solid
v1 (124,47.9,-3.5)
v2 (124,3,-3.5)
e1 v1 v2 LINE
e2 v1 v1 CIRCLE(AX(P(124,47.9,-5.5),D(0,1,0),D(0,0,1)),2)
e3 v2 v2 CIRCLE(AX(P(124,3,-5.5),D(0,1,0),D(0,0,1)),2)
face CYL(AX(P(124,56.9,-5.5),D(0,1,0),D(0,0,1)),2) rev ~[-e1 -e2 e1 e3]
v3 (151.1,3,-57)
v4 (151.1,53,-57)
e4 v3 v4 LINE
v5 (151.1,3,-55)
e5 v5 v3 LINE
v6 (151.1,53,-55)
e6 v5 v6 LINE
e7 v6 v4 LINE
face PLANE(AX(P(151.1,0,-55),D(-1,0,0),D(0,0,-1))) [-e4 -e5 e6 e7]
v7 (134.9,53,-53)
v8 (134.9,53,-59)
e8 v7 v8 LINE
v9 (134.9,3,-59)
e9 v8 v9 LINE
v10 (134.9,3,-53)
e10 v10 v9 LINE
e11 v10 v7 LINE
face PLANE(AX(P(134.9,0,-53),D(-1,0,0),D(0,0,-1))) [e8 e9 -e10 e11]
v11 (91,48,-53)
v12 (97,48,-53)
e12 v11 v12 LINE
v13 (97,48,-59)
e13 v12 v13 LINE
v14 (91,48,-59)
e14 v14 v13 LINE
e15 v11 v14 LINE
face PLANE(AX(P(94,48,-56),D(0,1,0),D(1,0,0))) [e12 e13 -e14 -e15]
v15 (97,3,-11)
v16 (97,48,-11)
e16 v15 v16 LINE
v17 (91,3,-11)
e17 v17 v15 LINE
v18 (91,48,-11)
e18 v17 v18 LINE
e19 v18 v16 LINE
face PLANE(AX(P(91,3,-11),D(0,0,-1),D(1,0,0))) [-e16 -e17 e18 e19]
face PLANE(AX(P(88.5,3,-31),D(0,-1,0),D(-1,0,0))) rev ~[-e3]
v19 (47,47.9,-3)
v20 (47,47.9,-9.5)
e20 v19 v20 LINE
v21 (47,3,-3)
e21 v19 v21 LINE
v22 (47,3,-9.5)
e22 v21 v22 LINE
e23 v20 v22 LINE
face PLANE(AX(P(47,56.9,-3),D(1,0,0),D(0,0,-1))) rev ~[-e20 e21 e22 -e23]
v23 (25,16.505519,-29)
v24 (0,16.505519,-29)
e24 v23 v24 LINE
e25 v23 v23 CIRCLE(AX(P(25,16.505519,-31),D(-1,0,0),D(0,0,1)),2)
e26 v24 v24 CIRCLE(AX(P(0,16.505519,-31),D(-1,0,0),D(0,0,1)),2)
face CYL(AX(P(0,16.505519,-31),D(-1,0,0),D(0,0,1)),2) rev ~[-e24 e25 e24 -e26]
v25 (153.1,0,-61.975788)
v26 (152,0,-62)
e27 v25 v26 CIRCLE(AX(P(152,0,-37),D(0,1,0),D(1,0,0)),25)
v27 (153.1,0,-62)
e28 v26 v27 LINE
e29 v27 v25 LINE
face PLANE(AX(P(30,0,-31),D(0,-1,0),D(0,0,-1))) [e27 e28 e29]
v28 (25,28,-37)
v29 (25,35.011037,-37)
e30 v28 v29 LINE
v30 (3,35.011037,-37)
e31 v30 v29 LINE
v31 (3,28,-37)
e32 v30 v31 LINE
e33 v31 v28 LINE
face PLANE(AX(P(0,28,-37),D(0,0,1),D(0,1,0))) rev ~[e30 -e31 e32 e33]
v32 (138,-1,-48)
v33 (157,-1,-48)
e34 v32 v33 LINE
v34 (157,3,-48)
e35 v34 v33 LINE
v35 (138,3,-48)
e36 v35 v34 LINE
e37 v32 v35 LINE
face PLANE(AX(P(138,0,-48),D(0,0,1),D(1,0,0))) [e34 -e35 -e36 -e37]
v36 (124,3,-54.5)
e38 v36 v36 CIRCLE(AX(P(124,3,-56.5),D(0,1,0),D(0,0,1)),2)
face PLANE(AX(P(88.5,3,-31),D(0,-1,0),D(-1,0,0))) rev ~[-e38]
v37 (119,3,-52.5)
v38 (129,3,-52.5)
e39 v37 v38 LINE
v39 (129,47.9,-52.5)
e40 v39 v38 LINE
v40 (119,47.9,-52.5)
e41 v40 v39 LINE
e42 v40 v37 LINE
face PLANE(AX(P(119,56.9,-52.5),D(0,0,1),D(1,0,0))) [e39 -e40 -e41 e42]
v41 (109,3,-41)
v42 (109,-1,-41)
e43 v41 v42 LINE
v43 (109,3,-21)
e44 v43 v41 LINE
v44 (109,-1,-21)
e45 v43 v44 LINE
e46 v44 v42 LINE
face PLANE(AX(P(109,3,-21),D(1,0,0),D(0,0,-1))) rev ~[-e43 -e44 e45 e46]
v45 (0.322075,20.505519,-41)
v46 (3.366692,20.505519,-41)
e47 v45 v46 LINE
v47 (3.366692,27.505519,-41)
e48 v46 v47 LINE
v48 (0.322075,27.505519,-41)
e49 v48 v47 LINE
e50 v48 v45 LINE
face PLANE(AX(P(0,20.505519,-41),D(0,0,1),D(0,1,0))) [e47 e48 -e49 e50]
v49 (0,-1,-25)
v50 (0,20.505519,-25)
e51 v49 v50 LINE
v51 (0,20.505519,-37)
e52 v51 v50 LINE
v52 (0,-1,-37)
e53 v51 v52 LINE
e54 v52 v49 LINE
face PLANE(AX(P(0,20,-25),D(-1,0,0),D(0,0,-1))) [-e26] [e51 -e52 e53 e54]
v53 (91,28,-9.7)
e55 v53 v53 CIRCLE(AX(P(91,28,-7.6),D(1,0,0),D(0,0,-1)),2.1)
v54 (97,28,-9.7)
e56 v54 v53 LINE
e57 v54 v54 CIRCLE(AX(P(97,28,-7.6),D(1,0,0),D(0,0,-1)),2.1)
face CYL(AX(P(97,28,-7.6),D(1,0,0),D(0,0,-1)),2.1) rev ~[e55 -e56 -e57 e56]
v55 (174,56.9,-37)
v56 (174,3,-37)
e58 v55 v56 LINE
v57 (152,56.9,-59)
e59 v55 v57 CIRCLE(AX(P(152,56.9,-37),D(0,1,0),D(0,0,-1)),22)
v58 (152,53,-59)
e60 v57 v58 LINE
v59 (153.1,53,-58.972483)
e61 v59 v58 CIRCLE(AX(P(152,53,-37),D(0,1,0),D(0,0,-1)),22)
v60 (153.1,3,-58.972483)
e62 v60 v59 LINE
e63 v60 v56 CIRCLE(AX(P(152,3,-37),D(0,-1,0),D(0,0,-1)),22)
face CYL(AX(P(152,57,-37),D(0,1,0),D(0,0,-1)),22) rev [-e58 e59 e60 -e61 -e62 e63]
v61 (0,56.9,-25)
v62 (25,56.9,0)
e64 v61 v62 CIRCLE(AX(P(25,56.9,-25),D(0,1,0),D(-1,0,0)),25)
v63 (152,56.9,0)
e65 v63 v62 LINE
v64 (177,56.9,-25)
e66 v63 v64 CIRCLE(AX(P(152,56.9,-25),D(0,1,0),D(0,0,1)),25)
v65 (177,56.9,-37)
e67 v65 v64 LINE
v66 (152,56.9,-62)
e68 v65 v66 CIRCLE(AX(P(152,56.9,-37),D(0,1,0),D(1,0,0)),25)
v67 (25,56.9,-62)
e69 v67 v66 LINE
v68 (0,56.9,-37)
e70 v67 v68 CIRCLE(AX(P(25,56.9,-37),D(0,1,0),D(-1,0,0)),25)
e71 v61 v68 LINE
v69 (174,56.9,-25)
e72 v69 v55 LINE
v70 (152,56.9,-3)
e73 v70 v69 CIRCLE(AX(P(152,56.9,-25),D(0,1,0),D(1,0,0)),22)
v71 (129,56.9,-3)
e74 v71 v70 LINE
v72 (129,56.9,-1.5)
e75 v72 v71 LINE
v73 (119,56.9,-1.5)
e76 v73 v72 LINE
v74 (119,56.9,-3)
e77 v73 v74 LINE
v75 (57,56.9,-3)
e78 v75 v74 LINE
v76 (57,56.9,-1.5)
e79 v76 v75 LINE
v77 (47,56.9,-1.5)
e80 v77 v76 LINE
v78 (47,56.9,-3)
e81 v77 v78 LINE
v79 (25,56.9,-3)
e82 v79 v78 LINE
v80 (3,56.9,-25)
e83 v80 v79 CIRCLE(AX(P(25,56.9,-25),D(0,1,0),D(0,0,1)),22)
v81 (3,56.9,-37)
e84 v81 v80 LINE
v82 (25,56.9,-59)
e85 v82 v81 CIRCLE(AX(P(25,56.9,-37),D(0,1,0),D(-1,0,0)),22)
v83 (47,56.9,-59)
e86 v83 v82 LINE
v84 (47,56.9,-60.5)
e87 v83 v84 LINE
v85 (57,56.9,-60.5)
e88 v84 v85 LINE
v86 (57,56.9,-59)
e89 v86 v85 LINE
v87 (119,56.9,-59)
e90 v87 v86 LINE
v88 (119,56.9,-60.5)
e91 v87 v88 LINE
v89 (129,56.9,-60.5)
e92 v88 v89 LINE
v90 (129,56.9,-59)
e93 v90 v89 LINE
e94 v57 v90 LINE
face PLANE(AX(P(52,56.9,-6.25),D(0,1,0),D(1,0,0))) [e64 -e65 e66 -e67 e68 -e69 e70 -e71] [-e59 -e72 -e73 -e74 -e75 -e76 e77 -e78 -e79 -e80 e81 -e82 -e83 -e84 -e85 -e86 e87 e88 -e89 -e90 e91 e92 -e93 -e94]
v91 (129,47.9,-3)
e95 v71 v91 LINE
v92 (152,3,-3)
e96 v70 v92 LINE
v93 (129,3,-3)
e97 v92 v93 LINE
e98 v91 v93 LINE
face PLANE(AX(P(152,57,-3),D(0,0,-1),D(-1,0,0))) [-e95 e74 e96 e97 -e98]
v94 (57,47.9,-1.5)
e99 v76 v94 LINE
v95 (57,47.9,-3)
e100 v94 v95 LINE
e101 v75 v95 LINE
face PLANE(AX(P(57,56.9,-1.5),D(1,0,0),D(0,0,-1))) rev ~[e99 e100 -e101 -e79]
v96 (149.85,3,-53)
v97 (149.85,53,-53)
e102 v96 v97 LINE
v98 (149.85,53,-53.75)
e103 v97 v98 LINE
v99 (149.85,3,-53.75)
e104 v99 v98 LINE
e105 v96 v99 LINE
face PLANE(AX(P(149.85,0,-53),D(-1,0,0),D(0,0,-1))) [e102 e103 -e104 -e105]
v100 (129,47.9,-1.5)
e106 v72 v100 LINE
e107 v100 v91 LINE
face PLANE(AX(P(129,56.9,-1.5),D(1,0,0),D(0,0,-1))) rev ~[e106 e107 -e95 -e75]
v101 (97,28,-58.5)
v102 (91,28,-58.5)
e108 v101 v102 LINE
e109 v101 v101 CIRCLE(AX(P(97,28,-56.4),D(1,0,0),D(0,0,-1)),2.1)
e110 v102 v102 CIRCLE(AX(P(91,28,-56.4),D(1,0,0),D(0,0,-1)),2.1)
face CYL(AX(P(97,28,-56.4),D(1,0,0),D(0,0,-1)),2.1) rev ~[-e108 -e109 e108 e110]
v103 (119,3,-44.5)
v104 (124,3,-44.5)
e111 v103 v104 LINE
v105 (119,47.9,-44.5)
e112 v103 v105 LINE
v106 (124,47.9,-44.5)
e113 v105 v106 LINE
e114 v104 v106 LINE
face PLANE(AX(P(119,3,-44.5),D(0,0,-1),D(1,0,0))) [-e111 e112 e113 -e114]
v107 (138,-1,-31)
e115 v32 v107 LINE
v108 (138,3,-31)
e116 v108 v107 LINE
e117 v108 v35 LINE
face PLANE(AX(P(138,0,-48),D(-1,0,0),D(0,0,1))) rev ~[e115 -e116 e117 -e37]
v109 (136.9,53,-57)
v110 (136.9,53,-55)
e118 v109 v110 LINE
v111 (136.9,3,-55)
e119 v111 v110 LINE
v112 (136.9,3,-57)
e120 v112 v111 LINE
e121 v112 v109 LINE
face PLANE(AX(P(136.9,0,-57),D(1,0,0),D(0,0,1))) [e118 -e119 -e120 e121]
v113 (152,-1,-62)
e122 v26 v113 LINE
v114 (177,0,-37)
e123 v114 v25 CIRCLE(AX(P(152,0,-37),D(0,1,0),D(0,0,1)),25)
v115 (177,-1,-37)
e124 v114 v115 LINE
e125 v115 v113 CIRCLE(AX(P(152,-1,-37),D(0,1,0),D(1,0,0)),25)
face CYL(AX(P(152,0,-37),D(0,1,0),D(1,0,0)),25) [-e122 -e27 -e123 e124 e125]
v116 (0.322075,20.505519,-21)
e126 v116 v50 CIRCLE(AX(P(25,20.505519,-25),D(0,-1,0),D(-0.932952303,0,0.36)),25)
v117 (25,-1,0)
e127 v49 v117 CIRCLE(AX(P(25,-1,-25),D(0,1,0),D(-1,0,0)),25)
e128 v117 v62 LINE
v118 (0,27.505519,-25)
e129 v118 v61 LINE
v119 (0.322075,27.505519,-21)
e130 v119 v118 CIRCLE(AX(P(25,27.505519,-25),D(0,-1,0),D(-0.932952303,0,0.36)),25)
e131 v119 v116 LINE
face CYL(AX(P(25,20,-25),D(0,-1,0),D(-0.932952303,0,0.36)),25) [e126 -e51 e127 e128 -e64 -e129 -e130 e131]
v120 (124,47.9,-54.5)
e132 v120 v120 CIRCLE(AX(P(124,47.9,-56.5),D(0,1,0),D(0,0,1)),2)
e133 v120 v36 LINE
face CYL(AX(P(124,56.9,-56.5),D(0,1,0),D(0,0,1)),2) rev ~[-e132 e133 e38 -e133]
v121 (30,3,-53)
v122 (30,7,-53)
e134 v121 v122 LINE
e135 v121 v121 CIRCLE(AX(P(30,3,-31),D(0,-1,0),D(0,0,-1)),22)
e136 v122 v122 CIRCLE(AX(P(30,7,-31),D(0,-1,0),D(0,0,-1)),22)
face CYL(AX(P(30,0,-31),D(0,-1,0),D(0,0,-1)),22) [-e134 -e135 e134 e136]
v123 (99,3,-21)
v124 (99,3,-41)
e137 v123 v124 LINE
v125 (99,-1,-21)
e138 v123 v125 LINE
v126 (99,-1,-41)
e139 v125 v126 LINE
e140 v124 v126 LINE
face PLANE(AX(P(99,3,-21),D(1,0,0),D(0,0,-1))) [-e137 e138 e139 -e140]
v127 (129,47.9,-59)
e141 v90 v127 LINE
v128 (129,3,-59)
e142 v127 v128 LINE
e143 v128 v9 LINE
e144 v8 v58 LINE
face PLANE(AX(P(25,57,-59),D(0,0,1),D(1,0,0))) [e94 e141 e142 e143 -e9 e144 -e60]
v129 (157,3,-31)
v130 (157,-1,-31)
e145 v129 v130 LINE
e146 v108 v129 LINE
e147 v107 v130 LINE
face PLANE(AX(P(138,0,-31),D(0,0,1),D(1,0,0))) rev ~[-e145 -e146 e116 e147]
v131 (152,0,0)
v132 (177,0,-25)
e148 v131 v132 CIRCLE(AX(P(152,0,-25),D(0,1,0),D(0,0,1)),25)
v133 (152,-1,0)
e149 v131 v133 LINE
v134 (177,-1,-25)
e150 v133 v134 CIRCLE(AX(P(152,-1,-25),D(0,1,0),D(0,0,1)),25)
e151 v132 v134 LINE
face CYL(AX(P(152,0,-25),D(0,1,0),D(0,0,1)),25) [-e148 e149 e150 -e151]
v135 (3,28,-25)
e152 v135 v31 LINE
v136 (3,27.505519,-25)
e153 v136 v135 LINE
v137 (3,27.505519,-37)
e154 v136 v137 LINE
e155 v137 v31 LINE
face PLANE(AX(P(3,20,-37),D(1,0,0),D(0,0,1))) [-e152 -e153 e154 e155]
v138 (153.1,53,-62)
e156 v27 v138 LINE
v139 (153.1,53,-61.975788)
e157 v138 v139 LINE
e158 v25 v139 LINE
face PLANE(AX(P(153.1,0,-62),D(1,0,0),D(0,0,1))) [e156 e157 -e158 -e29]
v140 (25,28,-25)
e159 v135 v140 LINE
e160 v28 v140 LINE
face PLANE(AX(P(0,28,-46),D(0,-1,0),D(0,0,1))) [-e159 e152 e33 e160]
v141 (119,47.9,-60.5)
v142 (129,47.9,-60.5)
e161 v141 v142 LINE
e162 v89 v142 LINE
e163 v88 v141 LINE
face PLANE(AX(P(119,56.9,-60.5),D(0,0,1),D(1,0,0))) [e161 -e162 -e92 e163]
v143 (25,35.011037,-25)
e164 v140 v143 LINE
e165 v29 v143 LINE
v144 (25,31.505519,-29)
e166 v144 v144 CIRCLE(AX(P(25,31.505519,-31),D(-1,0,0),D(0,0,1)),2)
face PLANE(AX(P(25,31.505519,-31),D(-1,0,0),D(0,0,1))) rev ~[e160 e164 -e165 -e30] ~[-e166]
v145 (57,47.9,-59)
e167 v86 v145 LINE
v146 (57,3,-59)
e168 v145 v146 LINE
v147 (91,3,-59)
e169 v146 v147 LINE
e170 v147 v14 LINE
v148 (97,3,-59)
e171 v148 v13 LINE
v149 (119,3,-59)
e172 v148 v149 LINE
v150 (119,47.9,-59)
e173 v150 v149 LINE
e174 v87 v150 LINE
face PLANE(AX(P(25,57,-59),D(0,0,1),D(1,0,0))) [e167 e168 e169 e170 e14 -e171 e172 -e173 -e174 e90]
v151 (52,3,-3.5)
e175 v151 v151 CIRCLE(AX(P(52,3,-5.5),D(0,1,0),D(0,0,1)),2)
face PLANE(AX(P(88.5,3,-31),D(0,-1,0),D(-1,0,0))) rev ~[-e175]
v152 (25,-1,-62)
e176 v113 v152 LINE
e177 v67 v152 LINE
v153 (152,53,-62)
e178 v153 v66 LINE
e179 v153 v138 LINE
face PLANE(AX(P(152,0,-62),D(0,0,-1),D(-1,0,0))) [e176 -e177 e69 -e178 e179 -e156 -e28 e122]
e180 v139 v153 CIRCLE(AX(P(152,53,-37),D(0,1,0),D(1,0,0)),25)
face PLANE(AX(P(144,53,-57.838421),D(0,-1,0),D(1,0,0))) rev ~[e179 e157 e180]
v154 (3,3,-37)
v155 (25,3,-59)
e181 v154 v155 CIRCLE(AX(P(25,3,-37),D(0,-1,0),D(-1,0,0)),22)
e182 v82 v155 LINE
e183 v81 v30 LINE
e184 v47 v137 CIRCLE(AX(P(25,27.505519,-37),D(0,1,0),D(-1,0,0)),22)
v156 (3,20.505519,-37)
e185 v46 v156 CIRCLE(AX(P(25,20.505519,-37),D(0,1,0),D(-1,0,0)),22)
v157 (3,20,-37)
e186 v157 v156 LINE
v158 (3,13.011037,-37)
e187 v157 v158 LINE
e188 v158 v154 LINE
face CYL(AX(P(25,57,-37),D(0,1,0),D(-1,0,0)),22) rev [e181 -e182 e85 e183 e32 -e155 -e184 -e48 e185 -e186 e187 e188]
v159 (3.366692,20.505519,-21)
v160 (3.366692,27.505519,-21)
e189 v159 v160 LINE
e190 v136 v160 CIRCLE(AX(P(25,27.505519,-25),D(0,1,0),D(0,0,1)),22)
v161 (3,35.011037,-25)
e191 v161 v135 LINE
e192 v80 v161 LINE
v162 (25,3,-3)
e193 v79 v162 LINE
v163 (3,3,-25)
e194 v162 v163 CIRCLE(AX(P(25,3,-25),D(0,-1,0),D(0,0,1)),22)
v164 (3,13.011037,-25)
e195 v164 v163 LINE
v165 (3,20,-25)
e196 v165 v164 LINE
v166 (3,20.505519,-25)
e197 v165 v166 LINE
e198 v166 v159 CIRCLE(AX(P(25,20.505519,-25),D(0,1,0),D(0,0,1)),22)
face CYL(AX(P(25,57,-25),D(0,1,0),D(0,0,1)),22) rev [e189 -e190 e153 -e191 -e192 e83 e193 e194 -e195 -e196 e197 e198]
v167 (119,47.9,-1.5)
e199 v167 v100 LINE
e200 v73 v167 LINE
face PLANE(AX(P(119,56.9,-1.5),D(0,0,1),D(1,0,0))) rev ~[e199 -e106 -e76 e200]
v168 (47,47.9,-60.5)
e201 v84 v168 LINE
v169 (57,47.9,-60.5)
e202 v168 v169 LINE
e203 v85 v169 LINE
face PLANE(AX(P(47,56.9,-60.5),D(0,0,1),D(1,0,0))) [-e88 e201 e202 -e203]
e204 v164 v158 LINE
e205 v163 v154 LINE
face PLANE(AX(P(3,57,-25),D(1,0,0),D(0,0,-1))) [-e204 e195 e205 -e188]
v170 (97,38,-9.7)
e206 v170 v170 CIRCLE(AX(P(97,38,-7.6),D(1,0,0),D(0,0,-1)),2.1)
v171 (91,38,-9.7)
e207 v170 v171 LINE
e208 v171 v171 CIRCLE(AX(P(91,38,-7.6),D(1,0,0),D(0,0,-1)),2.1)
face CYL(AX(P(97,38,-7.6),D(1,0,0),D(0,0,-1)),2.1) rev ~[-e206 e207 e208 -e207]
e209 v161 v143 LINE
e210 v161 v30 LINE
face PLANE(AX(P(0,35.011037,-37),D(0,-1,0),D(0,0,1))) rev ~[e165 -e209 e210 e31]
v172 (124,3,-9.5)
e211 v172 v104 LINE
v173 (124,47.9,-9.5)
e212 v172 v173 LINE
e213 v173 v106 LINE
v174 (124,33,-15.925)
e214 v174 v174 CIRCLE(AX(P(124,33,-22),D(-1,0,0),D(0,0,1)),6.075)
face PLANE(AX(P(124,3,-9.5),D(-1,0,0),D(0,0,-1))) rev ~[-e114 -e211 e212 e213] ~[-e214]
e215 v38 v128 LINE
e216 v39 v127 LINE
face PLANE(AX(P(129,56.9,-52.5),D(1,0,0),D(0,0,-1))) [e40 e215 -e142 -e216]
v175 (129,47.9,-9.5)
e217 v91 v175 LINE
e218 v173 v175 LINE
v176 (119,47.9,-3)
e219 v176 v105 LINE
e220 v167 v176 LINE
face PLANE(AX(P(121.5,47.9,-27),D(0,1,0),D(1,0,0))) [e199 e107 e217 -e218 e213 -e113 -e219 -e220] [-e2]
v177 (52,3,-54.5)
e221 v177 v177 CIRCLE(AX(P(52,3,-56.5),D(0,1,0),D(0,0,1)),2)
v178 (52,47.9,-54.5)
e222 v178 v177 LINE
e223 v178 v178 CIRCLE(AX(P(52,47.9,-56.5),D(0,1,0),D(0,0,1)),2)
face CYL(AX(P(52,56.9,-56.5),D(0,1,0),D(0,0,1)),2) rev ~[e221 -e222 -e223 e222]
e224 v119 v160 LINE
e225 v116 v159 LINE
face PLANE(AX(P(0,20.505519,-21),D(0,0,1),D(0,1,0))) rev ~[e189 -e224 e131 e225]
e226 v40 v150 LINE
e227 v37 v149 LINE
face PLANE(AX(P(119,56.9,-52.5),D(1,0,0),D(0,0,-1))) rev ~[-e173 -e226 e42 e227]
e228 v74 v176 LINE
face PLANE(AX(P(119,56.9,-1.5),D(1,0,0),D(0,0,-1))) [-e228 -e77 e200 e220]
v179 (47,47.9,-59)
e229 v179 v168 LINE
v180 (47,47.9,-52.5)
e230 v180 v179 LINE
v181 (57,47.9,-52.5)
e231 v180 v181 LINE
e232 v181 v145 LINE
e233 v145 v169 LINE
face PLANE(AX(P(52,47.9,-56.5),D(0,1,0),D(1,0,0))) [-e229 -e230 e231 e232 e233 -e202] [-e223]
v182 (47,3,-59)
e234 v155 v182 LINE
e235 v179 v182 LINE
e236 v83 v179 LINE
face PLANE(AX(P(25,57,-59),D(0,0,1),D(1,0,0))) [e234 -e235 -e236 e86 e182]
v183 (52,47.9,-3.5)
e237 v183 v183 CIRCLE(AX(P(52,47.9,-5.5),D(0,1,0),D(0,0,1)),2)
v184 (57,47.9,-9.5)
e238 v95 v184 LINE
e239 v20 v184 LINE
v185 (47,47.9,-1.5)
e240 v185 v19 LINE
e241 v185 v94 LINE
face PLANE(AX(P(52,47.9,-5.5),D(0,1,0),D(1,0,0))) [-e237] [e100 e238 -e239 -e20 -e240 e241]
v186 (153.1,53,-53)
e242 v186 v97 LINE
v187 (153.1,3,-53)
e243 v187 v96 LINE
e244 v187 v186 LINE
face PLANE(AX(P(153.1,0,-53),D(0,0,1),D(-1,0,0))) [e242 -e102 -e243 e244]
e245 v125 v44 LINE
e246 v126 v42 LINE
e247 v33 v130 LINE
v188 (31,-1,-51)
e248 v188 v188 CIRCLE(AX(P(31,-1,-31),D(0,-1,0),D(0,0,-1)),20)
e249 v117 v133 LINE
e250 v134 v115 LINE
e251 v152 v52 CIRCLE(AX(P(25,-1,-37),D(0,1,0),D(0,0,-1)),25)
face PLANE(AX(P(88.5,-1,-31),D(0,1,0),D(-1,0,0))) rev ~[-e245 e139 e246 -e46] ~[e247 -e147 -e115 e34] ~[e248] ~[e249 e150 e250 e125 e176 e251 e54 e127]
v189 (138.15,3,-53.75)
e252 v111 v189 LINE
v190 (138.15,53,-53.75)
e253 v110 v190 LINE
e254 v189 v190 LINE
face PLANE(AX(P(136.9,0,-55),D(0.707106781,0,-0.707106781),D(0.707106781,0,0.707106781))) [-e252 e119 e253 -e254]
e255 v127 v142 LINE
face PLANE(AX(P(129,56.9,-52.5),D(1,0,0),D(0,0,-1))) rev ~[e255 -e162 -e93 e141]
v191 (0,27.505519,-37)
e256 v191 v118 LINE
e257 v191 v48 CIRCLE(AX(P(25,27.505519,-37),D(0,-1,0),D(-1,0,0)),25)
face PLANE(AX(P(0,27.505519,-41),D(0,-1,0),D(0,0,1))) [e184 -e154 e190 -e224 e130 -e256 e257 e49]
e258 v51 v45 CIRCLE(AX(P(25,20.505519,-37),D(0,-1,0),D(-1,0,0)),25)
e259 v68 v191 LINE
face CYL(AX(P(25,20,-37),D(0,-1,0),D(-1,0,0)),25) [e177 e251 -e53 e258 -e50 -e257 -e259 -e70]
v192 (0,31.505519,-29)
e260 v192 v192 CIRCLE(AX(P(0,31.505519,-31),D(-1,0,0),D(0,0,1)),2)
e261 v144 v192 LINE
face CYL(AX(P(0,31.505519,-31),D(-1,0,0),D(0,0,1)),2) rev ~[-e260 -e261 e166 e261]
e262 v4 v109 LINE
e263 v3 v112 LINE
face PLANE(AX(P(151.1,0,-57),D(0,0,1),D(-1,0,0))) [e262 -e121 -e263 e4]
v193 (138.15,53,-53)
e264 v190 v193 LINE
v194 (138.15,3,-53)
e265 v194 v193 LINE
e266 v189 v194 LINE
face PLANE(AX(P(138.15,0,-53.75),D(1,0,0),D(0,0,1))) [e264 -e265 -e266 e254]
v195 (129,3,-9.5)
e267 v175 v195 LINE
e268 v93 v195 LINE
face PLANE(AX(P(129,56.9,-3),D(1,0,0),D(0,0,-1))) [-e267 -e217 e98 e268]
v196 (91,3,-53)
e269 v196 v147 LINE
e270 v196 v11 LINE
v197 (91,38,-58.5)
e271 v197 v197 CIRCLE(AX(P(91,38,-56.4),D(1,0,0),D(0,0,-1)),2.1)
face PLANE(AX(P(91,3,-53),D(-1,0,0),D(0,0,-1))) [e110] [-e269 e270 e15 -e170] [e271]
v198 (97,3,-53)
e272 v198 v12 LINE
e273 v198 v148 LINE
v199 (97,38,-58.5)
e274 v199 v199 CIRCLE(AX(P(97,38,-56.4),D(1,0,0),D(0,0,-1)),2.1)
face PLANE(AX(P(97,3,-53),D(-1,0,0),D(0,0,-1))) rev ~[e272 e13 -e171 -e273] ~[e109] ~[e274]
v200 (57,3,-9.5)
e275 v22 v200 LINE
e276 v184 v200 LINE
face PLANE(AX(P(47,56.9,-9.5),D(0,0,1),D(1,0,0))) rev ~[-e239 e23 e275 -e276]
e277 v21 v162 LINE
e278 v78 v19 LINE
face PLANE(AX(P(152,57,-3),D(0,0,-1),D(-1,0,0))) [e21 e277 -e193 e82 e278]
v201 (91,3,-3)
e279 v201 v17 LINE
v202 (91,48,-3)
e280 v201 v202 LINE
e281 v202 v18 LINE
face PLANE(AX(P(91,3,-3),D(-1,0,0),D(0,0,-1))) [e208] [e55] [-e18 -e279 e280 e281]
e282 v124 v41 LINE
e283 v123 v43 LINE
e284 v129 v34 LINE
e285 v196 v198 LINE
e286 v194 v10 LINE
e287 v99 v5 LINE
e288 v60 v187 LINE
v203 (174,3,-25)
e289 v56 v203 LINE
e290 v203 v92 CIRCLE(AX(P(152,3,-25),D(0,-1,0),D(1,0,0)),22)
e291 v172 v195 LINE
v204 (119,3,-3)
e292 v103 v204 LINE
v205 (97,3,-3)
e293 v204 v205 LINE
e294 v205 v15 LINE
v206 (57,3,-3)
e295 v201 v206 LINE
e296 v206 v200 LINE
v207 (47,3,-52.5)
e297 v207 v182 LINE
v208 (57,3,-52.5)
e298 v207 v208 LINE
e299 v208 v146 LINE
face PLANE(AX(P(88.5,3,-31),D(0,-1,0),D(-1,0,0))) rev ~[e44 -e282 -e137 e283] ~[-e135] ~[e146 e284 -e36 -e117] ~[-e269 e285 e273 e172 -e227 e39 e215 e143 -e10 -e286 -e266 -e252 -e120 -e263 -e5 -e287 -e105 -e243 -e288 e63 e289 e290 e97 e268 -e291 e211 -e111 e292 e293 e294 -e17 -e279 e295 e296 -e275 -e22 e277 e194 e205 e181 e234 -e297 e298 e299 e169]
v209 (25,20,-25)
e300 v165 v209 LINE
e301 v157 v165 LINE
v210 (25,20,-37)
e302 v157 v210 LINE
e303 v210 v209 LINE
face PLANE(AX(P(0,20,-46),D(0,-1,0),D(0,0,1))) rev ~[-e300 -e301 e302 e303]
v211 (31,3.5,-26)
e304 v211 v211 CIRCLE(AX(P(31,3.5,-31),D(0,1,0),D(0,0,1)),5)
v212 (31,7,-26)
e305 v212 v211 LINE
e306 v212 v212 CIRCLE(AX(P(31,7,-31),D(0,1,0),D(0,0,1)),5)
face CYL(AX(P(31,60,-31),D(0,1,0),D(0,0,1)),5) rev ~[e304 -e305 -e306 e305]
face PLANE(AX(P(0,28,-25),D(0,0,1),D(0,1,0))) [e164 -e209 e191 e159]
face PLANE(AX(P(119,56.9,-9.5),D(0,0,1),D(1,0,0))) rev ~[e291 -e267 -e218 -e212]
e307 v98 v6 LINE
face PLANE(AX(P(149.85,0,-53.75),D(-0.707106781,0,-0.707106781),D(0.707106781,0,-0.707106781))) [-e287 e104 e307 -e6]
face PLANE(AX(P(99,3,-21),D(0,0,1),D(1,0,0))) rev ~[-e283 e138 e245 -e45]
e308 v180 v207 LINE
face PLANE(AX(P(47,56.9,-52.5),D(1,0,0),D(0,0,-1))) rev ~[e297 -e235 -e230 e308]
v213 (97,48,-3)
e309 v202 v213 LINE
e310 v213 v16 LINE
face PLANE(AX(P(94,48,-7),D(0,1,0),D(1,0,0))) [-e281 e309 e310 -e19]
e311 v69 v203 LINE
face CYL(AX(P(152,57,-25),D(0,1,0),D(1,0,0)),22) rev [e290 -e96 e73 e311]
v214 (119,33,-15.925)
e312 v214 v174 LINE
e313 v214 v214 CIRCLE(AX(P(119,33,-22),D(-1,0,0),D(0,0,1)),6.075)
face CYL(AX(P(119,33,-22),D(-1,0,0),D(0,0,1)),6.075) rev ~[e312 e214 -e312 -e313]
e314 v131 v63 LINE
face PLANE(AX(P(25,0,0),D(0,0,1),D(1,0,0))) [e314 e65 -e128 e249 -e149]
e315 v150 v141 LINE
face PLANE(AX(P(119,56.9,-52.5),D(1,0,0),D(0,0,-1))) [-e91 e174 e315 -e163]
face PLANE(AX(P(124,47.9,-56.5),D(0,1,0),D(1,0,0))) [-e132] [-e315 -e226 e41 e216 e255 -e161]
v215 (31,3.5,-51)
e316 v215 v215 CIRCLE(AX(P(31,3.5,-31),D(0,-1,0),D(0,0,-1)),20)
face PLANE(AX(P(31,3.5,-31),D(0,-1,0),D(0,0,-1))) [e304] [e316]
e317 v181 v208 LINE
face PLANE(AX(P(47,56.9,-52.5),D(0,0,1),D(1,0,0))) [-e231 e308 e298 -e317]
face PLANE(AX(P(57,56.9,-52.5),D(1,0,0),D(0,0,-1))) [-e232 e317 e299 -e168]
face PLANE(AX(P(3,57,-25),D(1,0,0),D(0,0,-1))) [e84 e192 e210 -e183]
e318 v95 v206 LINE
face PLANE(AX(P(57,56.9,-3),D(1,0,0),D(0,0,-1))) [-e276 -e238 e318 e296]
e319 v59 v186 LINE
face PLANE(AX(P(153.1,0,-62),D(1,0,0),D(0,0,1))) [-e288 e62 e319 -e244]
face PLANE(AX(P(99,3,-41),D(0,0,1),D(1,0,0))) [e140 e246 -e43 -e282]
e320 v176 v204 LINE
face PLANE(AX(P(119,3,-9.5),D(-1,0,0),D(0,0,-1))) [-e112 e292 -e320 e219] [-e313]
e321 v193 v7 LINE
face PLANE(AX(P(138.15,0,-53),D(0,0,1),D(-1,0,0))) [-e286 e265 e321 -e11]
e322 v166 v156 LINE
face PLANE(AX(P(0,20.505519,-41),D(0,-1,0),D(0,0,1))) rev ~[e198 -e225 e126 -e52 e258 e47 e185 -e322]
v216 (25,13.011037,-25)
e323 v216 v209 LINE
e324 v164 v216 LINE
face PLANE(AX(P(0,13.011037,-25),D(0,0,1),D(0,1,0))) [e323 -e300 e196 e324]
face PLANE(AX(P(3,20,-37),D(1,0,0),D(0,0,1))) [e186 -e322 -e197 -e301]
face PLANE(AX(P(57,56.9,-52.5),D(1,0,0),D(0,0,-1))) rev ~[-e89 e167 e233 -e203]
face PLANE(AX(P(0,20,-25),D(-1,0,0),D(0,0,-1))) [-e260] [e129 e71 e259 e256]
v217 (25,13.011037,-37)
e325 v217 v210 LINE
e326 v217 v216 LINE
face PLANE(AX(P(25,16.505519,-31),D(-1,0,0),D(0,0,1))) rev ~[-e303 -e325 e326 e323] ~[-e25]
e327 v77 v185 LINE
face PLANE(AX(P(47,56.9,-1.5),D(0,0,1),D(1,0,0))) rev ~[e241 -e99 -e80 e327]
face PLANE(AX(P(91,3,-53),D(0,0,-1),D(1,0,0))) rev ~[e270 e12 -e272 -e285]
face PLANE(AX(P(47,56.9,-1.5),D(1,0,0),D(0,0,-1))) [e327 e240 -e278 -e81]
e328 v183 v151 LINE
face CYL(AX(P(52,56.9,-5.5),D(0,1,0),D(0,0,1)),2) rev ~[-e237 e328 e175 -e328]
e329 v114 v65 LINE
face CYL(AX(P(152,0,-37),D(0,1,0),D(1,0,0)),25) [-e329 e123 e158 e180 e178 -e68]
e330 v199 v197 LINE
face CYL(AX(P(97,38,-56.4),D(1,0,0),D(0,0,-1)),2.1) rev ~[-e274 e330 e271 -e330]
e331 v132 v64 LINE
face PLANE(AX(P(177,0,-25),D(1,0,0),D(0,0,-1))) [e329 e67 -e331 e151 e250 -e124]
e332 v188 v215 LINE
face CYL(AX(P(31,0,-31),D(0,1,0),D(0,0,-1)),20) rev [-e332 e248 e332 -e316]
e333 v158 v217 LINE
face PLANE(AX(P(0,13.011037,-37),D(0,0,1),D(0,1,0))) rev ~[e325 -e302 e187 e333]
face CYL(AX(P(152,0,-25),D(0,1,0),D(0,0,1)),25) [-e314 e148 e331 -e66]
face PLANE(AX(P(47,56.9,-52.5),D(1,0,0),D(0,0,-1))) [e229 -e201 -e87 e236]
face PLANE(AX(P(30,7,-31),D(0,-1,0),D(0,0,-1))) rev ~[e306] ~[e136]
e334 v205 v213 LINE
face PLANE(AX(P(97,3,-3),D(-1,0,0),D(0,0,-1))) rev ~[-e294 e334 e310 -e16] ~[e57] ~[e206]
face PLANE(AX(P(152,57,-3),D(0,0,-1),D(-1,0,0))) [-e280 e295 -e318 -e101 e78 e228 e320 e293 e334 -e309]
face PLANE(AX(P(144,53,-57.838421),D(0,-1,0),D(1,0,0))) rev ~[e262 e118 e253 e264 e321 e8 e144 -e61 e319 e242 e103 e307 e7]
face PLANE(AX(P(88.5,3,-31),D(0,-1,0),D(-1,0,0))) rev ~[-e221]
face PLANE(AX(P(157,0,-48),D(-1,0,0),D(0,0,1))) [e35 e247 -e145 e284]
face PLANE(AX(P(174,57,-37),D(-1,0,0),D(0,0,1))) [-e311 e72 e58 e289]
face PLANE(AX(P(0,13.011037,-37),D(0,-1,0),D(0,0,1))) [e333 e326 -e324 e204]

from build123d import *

# Parameters (mm, degrees)
SKETCH1_W            = 177
SKETCH1_H            = 62
BOSS_EXTRUDE1_DEPTH  = 60
FILLET1_R            = 25
SKETCH3_W            = 19
SKETCH3_H            = 17
CUT_EXTRUDE1_DEPTH   = 70
CUT_EXTRUDE5_DEPTH   = 54
SKETCH2_R            = 22
BOSS_EXTRUDE4_DEPTH  = 7
BOSS_EXTRUDE6_DEPTH  = 53
SKETCH11_R           = 20
CUT_EXTRUDE9_DEPTH   = 3.5
SKETCH21_R           = 25
CUT_EXTRUDE10_DEPTH  = 18
SKETCH23_R           = 5
CUT_EXTRUDE11_DEPTH  = 111
SKETCH26_R           = 20
SKETCH26_W           = 19
SKETCH26_H           = 17
BOSS_EXTRUDE23_DEPTH = 1
SKETCH27_W           = 30
SKETCH27_H           = 8
CUT_EXTRUDE12_DEPTH  = 10
SKETCH30_W           = 194.337314874
SKETCH30_H           = 68.122542634
CUT_EXTRUDE14_DEPTH  = 0.1
SKETCH32_R           = 2
CUT_EXTRUDE15_DEPTH  = 20
SKETCH35_W           = 193.893814344
SKETCH35_H           = 68.847857072
CUT_EXTRUDE16_DEPTH  = 3
SKETCH38_W           = 10
SKETCH38_H           = 6.5
SKETCH38_R           = 2
SKETCH38_H_2         = 1.5
BOSS_EXTRUDE26_DEPTH = 53.9
SKETCH39_R           = 2
CUT_EXTRUDE17_DEPTH  = 20
SKETCH38_4_W         = 10
SKETCH38_4_H         = 8
SKETCH38_4_R         = 2
CUT_EXTRUDE22_DEPTH  = 9
SKETCH39_4_W         = 12
SKETCH39_4_H         = 7.011037151
SKETCH39_4_R         = 2
SKETCH39_4_H_2       = 6.988962849
BOSS_EXTRUDE27_DEPTH = 25
SKETCH40_W           = 5
SKETCH40_H           = 35
BOSS_EXTRUDE28_DEPTH = 44.9
CUT_EXTRUDE23_REACH  = 147.748
SKETCH41_R           = 6.075
BOSS_EXTRUDE29_REACH = 193.14
SKETCH44_W           = 6
SKETCH44_H           = 6
SKETCH44_H_2         = 8
BOSS_EXTRUDE30_DEPTH = 45
SKETCH45_R           = 2.1
CUT_EXTRUDE24_DEPTH  = 15
SKETCH46_W           = 20
SKETCH46_H           = 7
CUT_EXTRUDE25_DEPTH  = 10
SKETCH47_W           = 10
SKETCH47_H           = 20
CUT_EXTRUDE26_DEPTH  = 10


with BuildPart() as part:
    # Sketch1 → Boss-Extrude1 (new body)
    with BuildSketch(Plane(origin=(0, 0, 0), x_dir=(1, 0, 0), z_dir=(0, 1, 0))):
        with Locations((88.5, 31)):
            Rectangle(SKETCH1_W, SKETCH1_H)
    extrude(amount=BOSS_EXTRUDE1_DEPTH)

    # Fillet1
    fillet1_edges = [part.edges().sort_by_distance(p)[0] for p in [
        (0, 30, -62),
        (177, 30, -62),
        (177, 30, 0),
        (0, 30, 0),
    ]]
    fillet(fillet1_edges, radius=FILLET1_R)

    # Sketch3 → Cut-Extrude1 (cut)
    with BuildSketch(Plane(origin=(0, 60, 0), x_dir=(1, 0, 0), z_dir=(0, 1, 0))):
        with Locations((147.5, 39.5)):
            Rectangle(SKETCH3_W, SKETCH3_H)
    extrude(amount=-CUT_EXTRUDE1_DEPTH, mode=Mode.SUBTRACT)

    # Sketch9 → Cut-Extrude5 (cut)
    with BuildSketch(Plane(origin=(0, 57, 0), x_dir=(1, 0, 0), z_dir=(0, 1, 0))):
        with BuildLine():
            Line((25, 59), (152, 59))
            ThreePointArc((152, 59), (167.556349186, 52.556349186), (174, 37))
            Line((174, 37), (174, 25))
            ThreePointArc((174, 25), (167.556349186, 9.443650814), (152, 3))
            Line((152, 3), (25, 3))
            ThreePointArc((25, 3), (9.443650814, 9.443650814), (3, 25))
            Line((3, 25), (3, 37))
            ThreePointArc((3, 37), (9.443650814, 52.556349186), (25, 59))
        make_face()
    extrude(amount=-CUT_EXTRUDE5_DEPTH, mode=Mode.SUBTRACT)

    # Sketch2 → Boss-Extrude4 (add)
    with BuildSketch(Plane.XZ):
        with Locations(Location((30, -31, 0), (0, 0, 270))):
            Circle(SKETCH2_R)
    extrude(amount=-BOSS_EXTRUDE4_DEPTH)

    # Sketch14 → Boss-Extrude6 (add)
    with BuildSketch(Plane.XZ):
        Polygon((136.9, -55), (138.15, -53.75), (138.15, -53), (134.9, -53), (134.9, -55), (134.9, -62), (137.25, -62), (150.75, -62), (153.1, -62), (153.1, -55), (153.1, -53), (149.85, -53), (149.85, -53.75), (151.1, -55), (151.1, -57), (136.9, -57), align=None)
    extrude(amount=-BOSS_EXTRUDE6_DEPTH)

    # Sketch11 → Cut-Extrude9 (cut)
    with BuildSketch(Plane.XZ):
        with Locations(Location((31, -31, 0), (0, 0, 270))):
            Circle(SKETCH11_R)
    extrude(amount=-CUT_EXTRUDE9_DEPTH, mode=Mode.SUBTRACT)

    # Sketch21 → Cut-Extrude10 (cut)
    with BuildSketch(Plane(origin=(0, 60, 0), x_dir=(1, 0, 0), z_dir=(0, 1, 0))):
        with Locations(Location((31, 31, 0), (0, 0, 270))):
            Circle(SKETCH21_R)
    extrude(amount=-CUT_EXTRUDE10_DEPTH, mode=Mode.SUBTRACT)

    # Sketch23 → Cut-Extrude11 (cut)
    with BuildSketch(Plane(origin=(0, 60, 0), x_dir=(1, 0, 0), z_dir=(0, 1, 0))):
        with Locations(Location((31, 31, 0), (0, 0, 270))):
            Circle(SKETCH23_R)
    extrude(amount=-CUT_EXTRUDE11_DEPTH, mode=Mode.SUBTRACT)

    # Sketch26 → Boss-Extrude23 (add)
    with BuildSketch(Plane.XZ):
        with BuildLine():
            Line((25, 0), (152, 0))
            ThreePointArc((152, 0), (169.67766953, -7.32233047), (177, -25))
            Line((177, -25), (177, -37))
            ThreePointArc((177, -37), (169.67766953, -54.67766953), (152, -62))
            Line((152, -62), (25, -62))
            ThreePointArc((25, -62), (7.32233047, -54.67766953), (0, -37))
            Line((0, -37), (0, -25))
            ThreePointArc((0, -25), (7.32233047, -7.32233047), (25, 0))
        make_face()
        with Locations(Location((31, -31, 0), (0, 0, 270))):
            Circle(SKETCH26_R, mode=Mode.SUBTRACT)
        with Locations((147.5, -39.5)):
            Rectangle(SKETCH26_W, SKETCH26_H, mode=Mode.SUBTRACT)
    extrude(amount=BOSS_EXTRUDE23_DEPTH)

    # Sketch27 → Cut-Extrude12 (cut)
    with BuildSketch(Plane.ZY):
        with Locations((-31, 24)):
            Rectangle(SKETCH27_W, SKETCH27_H)
    extrude(amount=-CUT_EXTRUDE12_DEPTH, mode=Mode.SUBTRACT)

    # Sketch30 → Cut-Extrude14 (cut)
    with BuildSketch(Plane(origin=(0, 57, 0), x_dir=(1, 0, 0), z_dir=(0, 1, 0))):
        with Locations((88.376869027, 31.076383763)):
            Rectangle(SKETCH30_W, SKETCH30_H)
        with BuildLine():
            Line((25, 58), (152, 58))
            ThreePointArc((152, 58), (166.849242405, 51.849242405), (173, 37))
            Line((173, 37), (173, 25))
            ThreePointArc((173, 25), (166.849242405, 10.150757595), (152, 4))
            Line((152, 4), (25, 4))
            ThreePointArc((25, 4), (10.150757595, 10.150757595), (4, 25))
            Line((4, 25), (4, 37))
            ThreePointArc((4, 37), (10.150757595, 51.849242405), (25, 58))
        make_face(mode=Mode.SUBTRACT)
    extrude(amount=-CUT_EXTRUDE14_DEPTH, mode=Mode.SUBTRACT)


with BuildPart() as cut_extrude14_piece_1:
    # of the separate pieces the step leaves, piece 1, a body of its own (cut_extrude14_pieces)
    add(part.part.solids().sort_by_distance((25, 56.9, 0))[0])

    # Sketch38 → Boss-Extrude26 (add)
    # profile 1 of 8: a face of its own
    with BuildSketch(Plane(origin=(0, 56.9, 0), x_dir=(1, 0, 0), z_dir=(0, 1, 0))):
        with Locations((52, 6.25)):
            Rectangle(SKETCH38_W, SKETCH38_H)
        with Locations(Location((52, 5.5, 0), (0, 0, 270))):
            Circle(SKETCH38_R, mode=Mode.SUBTRACT)
    # profile 2 of 8: a face of its own
    with BuildSketch(Plane(origin=(0, 56.9, 0), x_dir=(1, 0, 0), z_dir=(0, 1, 0))):
        with Locations((52, 2.25)):
            Rectangle(SKETCH38_W, SKETCH38_H_2)
    # profile 3 of 8: a face of its own
    with BuildSketch(Plane(origin=(0, 56.9, 0), x_dir=(1, 0, 0), z_dir=(0, 1, 0))):
        with Locations((52, 59.75)):
            Rectangle(SKETCH38_W, SKETCH38_H_2)
    # profile 4 of 8: a face of its own
    with BuildSketch(Plane(origin=(0, 56.9, 0), x_dir=(1, 0, 0), z_dir=(0, 1, 0))):
        with Locations((52, 55.75)):
            Rectangle(SKETCH38_W, SKETCH38_H)
        with Locations(Location((52, 56.5, 0), (0, 0, 270))):
            Circle(SKETCH38_R, mode=Mode.SUBTRACT)
    # profile 5 of 8: a face of its own
    with BuildSketch(Plane(origin=(0, 56.9, 0), x_dir=(1, 0, 0), z_dir=(0, 1, 0))):
        with Locations((124, 55.75)):
            Rectangle(SKETCH38_W, SKETCH38_H)
        with Locations(Location((124, 56.5, 0), (0, 0, 270))):
            Circle(SKETCH38_R, mode=Mode.SUBTRACT)
    # profile 6 of 8: a face of its own
    with BuildSketch(Plane(origin=(0, 56.9, 0), x_dir=(1, 0, 0), z_dir=(0, 1, 0))):
        with Locations((124, 59.75)):
            Rectangle(SKETCH38_W, SKETCH38_H_2)
    # profile 7 of 8: a face of its own
    with BuildSketch(Plane(origin=(0, 56.9, 0), x_dir=(1, 0, 0), z_dir=(0, 1, 0))):
        with Locations((124, 6.25)):
            Rectangle(SKETCH38_W, SKETCH38_H)
        with Locations(Location((124, 5.5, 0), (0, 0, 270))):
            Circle(SKETCH38_R, mode=Mode.SUBTRACT)
    # profile 8 of 8: a face of its own
    with BuildSketch(Plane(origin=(0, 56.9, 0), x_dir=(1, 0, 0), z_dir=(0, 1, 0))):
        with Locations((124, 2.25)):
            Rectangle(SKETCH38_W, SKETCH38_H_2)
    extrude(amount=-BOSS_EXTRUDE26_DEPTH)

    # Sketch39 → Cut-Extrude17 (cut)
    with BuildSketch(Plane.ZY):
        with Locations((-31, 31.505518576)):
            Circle(SKETCH39_R)
        with Locations((-31, 16.505518576)):
            Circle(SKETCH39_R)
    extrude(amount=-CUT_EXTRUDE17_DEPTH, mode=Mode.SUBTRACT)

    # Sketch38<4> → Cut-Extrude22 (cut)
    # profile 1 of 4: a face of its own
    with BuildSketch(Plane(origin=(0, 56.9, 0), x_dir=(1, 0, 0), z_dir=(0, 1, 0))):
        with Locations((52, 56.5)):
            Rectangle(SKETCH38_4_W, SKETCH38_4_H)
        with Locations(Location((52, 56.5, 0), (0, 0, 270))):
            Circle(SKETCH38_4_R, mode=Mode.SUBTRACT)
    # profile 2 of 4: a face of its own
    with BuildSketch(Plane(origin=(0, 56.9, 0), x_dir=(1, 0, 0), z_dir=(0, 1, 0))):
        with Locations((124, 56.5)):
            Rectangle(SKETCH38_4_W, SKETCH38_4_H)
        with Locations(Location((124, 56.5, 0), (0, 0, 270))):
            Circle(SKETCH38_4_R, mode=Mode.SUBTRACT)
    # profile 3 of 4: a face of its own
    with BuildSketch(Plane(origin=(0, 56.9, 0), x_dir=(1, 0, 0), z_dir=(0, 1, 0))):
        with Locations((52, 5.5)):
            Rectangle(SKETCH38_4_W, SKETCH38_4_H)
        with Locations(Location((52, 5.5, 0), (0, 0, 270))):
            Circle(SKETCH38_4_R, mode=Mode.SUBTRACT)
    # profile 4 of 4: a face of its own
    with BuildSketch(Plane(origin=(0, 56.9, 0), x_dir=(1, 0, 0), z_dir=(0, 1, 0))):
        with Locations((124, 5.5)):
            Rectangle(SKETCH38_4_W, SKETCH38_4_H)
        with Locations(Location((124, 5.5, 0), (0, 0, 270))):
            Circle(SKETCH38_4_R, mode=Mode.SUBTRACT)
    extrude(amount=-CUT_EXTRUDE22_DEPTH, mode=Mode.SUBTRACT)

    # Sketch39<4> → Boss-Extrude27 (add)
    # profile 1 of 2: a face of its own
    with BuildSketch(Plane.ZY):
        with Locations((-31, 31.505518576)):
            Rectangle(SKETCH39_4_W, SKETCH39_4_H)
        with Locations((-31, 31.505518576)):
            Circle(SKETCH39_4_R, mode=Mode.SUBTRACT)
    # profile 2 of 2: a face of its own
    with BuildSketch(Plane.ZY):
        with Locations((-31, 16.505518575)):
            Rectangle(SKETCH39_4_W, SKETCH39_4_H_2)
        with Locations((-31, 16.505518576)):
            Circle(SKETCH39_4_R, mode=Mode.SUBTRACT)
    extrude(amount=-BOSS_EXTRUDE27_DEPTH)

    # Sketch40 → Boss-Extrude28 (add)
    with BuildSketch(Plane(origin=(0, 3, 0), x_dir=(1, 0, 0), z_dir=(0, 1, 0))):
        with Locations((121.5, 27)):
            Rectangle(SKETCH40_W, SKETCH40_H)
    extrude(amount=BOSS_EXTRUDE28_DEPTH)

    # Sketch41 → Cut-Extrude23 (cut, up to next)
    with BuildSketch(Plane.ZY.offset(-119), mode=Mode.PRIVATE) as cut_extrude23_sk1:
        with Locations((-22, 33)):
            Circle(SKETCH41_R)
    cut_extrude23_tool1 = extrude(cut_extrude23_sk1.sketch, amount=-CUT_EXTRUDE23_REACH, mode=Mode.PRIVATE) & cut_extrude14_piece_1.part
    add(cut_extrude23_tool1.solids().sort_by_distance((119, 33, -22))[0], mode=Mode.SUBTRACT)

    # Sketch43 → Boss-Extrude29 (add, up to next)
    with BuildSketch(Plane(origin=(0, 20, 0), x_dir=(1, 0, 0), z_dir=(0, 1, 0)), mode=Mode.PRIVATE) as boss_extrude29_sk1:
        with BuildLine():
            Line((0, 25), (0, 37))
            ThreePointArc((0, 37), (0.422620263, 41.577379737), (1.676192421, 46))
            Line((1.676192421, 46), (4.9251401, 46))
            ThreePointArc((4.9251401, 46), (3.48666788, 41.601797595), (3, 37))
            Line((3, 37), (3, 25))
            ThreePointArc((3, 25), (3.48666788, 20.398202405), (4.9251401, 16))
            Line((4.9251401, 16), (1.676192421, 16))
            ThreePointArc((1.676192421, 16), (0.422620263, 20.422620263), (0, 25))
        make_face()
    boss_extrude29_tool1 = extrude(boss_extrude29_sk1.sketch, amount=BOSS_EXTRUDE29_REACH, mode=Mode.PRIVATE) - cut_extrude14_piece_1.part
    add(boss_extrude29_tool1.solids().sort_by_distance((1.865651, 20, -31))[0])

    # Sketch44 → Boss-Extrude30 (add)
    with BuildSketch(Plane(origin=(0, 3, 0), x_dir=(1, 0, 0), z_dir=(0, 1, 0))):
        with Locations((94, 56)):
            Rectangle(SKETCH44_W, SKETCH44_H)
        with Locations((94, 7)):
            Rectangle(SKETCH44_W, SKETCH44_H_2)
    extrude(amount=BOSS_EXTRUDE30_DEPTH)

    # Sketch45 → Cut-Extrude24 (cut)
    with BuildSketch(Plane(origin=(97, 0, 0), x_dir=(0, 0, -1), z_dir=(1, 0, 0))):
        with Locations((7.6, 38)):
            Circle(SKETCH45_R)
        with Locations((7.6, 28)):
            Circle(SKETCH45_R)
        with Locations((56.4, 38)):
            Circle(SKETCH45_R)
        with Locations((56.4, 28)):
            Circle(SKETCH45_R)
    extrude(amount=-CUT_EXTRUDE24_DEPTH, mode=Mode.SUBTRACT)

    # Sketch46 → Cut-Extrude25 (cut)
    with BuildSketch(Plane.ZY):
        with Locations((-31, 24.005518576)):
            Rectangle(SKETCH46_W, SKETCH46_H)
    extrude(amount=-CUT_EXTRUDE25_DEPTH, mode=Mode.SUBTRACT)

    # Sketch47 → Cut-Extrude26 (cut)
    with BuildSketch(Plane(origin=(0, 3, 0), x_dir=(1, 0, 0), z_dir=(0, 1, 0))):
        with Locations((104, 31)):
            Rectangle(SKETCH47_W, SKETCH47_H)
    extrude(amount=-CUT_EXTRUDE26_DEPTH, mode=Mode.SUBTRACT)


with BuildPart() as cut_extrude14_piece_2:
    # of the separate pieces the step leaves, piece 2, a body of its own (cut_extrude14_pieces)
    add(part.part.solids().sort_by_distance((25, 60, 0))[0])

    # Sketch32 → Cut-Extrude15 (cut)
    with BuildSketch(Plane(origin=(0, 60, 0), x_dir=(1, 0, 0), z_dir=(0, 1, 0))):
        with Locations(Location((52, 5.5, 0), (0, 0, 270))):
            Circle(SKETCH32_R)
        with Locations(Location((52, 56.5, 0), (0, 0, 270))):
            Circle(SKETCH32_R)
        with Locations(Location((164.556349186, 10, 0), (0, 0, 270))):
            Circle(SKETCH32_R)
        with Locations(Location((124, 56.5, 0), (0, 0, 270))):
            Circle(SKETCH32_R)
    extrude(amount=-CUT_EXTRUDE15_DEPTH, mode=Mode.SUBTRACT)

    # Sketch35 → Cut-Extrude16 (cut)
    with BuildSketch(Plane(origin=(0, 60, 0), x_dir=(1, 0, 0), z_dir=(0, 1, 0))):
        with Locations((88.811059595, 30.688940405)):
            Rectangle(SKETCH35_W, SKETCH35_H)
    extrude(amount=-CUT_EXTRUDE16_DEPTH, mode=Mode.SUBTRACT)


solid = cut_extrude14_piece_1.part
